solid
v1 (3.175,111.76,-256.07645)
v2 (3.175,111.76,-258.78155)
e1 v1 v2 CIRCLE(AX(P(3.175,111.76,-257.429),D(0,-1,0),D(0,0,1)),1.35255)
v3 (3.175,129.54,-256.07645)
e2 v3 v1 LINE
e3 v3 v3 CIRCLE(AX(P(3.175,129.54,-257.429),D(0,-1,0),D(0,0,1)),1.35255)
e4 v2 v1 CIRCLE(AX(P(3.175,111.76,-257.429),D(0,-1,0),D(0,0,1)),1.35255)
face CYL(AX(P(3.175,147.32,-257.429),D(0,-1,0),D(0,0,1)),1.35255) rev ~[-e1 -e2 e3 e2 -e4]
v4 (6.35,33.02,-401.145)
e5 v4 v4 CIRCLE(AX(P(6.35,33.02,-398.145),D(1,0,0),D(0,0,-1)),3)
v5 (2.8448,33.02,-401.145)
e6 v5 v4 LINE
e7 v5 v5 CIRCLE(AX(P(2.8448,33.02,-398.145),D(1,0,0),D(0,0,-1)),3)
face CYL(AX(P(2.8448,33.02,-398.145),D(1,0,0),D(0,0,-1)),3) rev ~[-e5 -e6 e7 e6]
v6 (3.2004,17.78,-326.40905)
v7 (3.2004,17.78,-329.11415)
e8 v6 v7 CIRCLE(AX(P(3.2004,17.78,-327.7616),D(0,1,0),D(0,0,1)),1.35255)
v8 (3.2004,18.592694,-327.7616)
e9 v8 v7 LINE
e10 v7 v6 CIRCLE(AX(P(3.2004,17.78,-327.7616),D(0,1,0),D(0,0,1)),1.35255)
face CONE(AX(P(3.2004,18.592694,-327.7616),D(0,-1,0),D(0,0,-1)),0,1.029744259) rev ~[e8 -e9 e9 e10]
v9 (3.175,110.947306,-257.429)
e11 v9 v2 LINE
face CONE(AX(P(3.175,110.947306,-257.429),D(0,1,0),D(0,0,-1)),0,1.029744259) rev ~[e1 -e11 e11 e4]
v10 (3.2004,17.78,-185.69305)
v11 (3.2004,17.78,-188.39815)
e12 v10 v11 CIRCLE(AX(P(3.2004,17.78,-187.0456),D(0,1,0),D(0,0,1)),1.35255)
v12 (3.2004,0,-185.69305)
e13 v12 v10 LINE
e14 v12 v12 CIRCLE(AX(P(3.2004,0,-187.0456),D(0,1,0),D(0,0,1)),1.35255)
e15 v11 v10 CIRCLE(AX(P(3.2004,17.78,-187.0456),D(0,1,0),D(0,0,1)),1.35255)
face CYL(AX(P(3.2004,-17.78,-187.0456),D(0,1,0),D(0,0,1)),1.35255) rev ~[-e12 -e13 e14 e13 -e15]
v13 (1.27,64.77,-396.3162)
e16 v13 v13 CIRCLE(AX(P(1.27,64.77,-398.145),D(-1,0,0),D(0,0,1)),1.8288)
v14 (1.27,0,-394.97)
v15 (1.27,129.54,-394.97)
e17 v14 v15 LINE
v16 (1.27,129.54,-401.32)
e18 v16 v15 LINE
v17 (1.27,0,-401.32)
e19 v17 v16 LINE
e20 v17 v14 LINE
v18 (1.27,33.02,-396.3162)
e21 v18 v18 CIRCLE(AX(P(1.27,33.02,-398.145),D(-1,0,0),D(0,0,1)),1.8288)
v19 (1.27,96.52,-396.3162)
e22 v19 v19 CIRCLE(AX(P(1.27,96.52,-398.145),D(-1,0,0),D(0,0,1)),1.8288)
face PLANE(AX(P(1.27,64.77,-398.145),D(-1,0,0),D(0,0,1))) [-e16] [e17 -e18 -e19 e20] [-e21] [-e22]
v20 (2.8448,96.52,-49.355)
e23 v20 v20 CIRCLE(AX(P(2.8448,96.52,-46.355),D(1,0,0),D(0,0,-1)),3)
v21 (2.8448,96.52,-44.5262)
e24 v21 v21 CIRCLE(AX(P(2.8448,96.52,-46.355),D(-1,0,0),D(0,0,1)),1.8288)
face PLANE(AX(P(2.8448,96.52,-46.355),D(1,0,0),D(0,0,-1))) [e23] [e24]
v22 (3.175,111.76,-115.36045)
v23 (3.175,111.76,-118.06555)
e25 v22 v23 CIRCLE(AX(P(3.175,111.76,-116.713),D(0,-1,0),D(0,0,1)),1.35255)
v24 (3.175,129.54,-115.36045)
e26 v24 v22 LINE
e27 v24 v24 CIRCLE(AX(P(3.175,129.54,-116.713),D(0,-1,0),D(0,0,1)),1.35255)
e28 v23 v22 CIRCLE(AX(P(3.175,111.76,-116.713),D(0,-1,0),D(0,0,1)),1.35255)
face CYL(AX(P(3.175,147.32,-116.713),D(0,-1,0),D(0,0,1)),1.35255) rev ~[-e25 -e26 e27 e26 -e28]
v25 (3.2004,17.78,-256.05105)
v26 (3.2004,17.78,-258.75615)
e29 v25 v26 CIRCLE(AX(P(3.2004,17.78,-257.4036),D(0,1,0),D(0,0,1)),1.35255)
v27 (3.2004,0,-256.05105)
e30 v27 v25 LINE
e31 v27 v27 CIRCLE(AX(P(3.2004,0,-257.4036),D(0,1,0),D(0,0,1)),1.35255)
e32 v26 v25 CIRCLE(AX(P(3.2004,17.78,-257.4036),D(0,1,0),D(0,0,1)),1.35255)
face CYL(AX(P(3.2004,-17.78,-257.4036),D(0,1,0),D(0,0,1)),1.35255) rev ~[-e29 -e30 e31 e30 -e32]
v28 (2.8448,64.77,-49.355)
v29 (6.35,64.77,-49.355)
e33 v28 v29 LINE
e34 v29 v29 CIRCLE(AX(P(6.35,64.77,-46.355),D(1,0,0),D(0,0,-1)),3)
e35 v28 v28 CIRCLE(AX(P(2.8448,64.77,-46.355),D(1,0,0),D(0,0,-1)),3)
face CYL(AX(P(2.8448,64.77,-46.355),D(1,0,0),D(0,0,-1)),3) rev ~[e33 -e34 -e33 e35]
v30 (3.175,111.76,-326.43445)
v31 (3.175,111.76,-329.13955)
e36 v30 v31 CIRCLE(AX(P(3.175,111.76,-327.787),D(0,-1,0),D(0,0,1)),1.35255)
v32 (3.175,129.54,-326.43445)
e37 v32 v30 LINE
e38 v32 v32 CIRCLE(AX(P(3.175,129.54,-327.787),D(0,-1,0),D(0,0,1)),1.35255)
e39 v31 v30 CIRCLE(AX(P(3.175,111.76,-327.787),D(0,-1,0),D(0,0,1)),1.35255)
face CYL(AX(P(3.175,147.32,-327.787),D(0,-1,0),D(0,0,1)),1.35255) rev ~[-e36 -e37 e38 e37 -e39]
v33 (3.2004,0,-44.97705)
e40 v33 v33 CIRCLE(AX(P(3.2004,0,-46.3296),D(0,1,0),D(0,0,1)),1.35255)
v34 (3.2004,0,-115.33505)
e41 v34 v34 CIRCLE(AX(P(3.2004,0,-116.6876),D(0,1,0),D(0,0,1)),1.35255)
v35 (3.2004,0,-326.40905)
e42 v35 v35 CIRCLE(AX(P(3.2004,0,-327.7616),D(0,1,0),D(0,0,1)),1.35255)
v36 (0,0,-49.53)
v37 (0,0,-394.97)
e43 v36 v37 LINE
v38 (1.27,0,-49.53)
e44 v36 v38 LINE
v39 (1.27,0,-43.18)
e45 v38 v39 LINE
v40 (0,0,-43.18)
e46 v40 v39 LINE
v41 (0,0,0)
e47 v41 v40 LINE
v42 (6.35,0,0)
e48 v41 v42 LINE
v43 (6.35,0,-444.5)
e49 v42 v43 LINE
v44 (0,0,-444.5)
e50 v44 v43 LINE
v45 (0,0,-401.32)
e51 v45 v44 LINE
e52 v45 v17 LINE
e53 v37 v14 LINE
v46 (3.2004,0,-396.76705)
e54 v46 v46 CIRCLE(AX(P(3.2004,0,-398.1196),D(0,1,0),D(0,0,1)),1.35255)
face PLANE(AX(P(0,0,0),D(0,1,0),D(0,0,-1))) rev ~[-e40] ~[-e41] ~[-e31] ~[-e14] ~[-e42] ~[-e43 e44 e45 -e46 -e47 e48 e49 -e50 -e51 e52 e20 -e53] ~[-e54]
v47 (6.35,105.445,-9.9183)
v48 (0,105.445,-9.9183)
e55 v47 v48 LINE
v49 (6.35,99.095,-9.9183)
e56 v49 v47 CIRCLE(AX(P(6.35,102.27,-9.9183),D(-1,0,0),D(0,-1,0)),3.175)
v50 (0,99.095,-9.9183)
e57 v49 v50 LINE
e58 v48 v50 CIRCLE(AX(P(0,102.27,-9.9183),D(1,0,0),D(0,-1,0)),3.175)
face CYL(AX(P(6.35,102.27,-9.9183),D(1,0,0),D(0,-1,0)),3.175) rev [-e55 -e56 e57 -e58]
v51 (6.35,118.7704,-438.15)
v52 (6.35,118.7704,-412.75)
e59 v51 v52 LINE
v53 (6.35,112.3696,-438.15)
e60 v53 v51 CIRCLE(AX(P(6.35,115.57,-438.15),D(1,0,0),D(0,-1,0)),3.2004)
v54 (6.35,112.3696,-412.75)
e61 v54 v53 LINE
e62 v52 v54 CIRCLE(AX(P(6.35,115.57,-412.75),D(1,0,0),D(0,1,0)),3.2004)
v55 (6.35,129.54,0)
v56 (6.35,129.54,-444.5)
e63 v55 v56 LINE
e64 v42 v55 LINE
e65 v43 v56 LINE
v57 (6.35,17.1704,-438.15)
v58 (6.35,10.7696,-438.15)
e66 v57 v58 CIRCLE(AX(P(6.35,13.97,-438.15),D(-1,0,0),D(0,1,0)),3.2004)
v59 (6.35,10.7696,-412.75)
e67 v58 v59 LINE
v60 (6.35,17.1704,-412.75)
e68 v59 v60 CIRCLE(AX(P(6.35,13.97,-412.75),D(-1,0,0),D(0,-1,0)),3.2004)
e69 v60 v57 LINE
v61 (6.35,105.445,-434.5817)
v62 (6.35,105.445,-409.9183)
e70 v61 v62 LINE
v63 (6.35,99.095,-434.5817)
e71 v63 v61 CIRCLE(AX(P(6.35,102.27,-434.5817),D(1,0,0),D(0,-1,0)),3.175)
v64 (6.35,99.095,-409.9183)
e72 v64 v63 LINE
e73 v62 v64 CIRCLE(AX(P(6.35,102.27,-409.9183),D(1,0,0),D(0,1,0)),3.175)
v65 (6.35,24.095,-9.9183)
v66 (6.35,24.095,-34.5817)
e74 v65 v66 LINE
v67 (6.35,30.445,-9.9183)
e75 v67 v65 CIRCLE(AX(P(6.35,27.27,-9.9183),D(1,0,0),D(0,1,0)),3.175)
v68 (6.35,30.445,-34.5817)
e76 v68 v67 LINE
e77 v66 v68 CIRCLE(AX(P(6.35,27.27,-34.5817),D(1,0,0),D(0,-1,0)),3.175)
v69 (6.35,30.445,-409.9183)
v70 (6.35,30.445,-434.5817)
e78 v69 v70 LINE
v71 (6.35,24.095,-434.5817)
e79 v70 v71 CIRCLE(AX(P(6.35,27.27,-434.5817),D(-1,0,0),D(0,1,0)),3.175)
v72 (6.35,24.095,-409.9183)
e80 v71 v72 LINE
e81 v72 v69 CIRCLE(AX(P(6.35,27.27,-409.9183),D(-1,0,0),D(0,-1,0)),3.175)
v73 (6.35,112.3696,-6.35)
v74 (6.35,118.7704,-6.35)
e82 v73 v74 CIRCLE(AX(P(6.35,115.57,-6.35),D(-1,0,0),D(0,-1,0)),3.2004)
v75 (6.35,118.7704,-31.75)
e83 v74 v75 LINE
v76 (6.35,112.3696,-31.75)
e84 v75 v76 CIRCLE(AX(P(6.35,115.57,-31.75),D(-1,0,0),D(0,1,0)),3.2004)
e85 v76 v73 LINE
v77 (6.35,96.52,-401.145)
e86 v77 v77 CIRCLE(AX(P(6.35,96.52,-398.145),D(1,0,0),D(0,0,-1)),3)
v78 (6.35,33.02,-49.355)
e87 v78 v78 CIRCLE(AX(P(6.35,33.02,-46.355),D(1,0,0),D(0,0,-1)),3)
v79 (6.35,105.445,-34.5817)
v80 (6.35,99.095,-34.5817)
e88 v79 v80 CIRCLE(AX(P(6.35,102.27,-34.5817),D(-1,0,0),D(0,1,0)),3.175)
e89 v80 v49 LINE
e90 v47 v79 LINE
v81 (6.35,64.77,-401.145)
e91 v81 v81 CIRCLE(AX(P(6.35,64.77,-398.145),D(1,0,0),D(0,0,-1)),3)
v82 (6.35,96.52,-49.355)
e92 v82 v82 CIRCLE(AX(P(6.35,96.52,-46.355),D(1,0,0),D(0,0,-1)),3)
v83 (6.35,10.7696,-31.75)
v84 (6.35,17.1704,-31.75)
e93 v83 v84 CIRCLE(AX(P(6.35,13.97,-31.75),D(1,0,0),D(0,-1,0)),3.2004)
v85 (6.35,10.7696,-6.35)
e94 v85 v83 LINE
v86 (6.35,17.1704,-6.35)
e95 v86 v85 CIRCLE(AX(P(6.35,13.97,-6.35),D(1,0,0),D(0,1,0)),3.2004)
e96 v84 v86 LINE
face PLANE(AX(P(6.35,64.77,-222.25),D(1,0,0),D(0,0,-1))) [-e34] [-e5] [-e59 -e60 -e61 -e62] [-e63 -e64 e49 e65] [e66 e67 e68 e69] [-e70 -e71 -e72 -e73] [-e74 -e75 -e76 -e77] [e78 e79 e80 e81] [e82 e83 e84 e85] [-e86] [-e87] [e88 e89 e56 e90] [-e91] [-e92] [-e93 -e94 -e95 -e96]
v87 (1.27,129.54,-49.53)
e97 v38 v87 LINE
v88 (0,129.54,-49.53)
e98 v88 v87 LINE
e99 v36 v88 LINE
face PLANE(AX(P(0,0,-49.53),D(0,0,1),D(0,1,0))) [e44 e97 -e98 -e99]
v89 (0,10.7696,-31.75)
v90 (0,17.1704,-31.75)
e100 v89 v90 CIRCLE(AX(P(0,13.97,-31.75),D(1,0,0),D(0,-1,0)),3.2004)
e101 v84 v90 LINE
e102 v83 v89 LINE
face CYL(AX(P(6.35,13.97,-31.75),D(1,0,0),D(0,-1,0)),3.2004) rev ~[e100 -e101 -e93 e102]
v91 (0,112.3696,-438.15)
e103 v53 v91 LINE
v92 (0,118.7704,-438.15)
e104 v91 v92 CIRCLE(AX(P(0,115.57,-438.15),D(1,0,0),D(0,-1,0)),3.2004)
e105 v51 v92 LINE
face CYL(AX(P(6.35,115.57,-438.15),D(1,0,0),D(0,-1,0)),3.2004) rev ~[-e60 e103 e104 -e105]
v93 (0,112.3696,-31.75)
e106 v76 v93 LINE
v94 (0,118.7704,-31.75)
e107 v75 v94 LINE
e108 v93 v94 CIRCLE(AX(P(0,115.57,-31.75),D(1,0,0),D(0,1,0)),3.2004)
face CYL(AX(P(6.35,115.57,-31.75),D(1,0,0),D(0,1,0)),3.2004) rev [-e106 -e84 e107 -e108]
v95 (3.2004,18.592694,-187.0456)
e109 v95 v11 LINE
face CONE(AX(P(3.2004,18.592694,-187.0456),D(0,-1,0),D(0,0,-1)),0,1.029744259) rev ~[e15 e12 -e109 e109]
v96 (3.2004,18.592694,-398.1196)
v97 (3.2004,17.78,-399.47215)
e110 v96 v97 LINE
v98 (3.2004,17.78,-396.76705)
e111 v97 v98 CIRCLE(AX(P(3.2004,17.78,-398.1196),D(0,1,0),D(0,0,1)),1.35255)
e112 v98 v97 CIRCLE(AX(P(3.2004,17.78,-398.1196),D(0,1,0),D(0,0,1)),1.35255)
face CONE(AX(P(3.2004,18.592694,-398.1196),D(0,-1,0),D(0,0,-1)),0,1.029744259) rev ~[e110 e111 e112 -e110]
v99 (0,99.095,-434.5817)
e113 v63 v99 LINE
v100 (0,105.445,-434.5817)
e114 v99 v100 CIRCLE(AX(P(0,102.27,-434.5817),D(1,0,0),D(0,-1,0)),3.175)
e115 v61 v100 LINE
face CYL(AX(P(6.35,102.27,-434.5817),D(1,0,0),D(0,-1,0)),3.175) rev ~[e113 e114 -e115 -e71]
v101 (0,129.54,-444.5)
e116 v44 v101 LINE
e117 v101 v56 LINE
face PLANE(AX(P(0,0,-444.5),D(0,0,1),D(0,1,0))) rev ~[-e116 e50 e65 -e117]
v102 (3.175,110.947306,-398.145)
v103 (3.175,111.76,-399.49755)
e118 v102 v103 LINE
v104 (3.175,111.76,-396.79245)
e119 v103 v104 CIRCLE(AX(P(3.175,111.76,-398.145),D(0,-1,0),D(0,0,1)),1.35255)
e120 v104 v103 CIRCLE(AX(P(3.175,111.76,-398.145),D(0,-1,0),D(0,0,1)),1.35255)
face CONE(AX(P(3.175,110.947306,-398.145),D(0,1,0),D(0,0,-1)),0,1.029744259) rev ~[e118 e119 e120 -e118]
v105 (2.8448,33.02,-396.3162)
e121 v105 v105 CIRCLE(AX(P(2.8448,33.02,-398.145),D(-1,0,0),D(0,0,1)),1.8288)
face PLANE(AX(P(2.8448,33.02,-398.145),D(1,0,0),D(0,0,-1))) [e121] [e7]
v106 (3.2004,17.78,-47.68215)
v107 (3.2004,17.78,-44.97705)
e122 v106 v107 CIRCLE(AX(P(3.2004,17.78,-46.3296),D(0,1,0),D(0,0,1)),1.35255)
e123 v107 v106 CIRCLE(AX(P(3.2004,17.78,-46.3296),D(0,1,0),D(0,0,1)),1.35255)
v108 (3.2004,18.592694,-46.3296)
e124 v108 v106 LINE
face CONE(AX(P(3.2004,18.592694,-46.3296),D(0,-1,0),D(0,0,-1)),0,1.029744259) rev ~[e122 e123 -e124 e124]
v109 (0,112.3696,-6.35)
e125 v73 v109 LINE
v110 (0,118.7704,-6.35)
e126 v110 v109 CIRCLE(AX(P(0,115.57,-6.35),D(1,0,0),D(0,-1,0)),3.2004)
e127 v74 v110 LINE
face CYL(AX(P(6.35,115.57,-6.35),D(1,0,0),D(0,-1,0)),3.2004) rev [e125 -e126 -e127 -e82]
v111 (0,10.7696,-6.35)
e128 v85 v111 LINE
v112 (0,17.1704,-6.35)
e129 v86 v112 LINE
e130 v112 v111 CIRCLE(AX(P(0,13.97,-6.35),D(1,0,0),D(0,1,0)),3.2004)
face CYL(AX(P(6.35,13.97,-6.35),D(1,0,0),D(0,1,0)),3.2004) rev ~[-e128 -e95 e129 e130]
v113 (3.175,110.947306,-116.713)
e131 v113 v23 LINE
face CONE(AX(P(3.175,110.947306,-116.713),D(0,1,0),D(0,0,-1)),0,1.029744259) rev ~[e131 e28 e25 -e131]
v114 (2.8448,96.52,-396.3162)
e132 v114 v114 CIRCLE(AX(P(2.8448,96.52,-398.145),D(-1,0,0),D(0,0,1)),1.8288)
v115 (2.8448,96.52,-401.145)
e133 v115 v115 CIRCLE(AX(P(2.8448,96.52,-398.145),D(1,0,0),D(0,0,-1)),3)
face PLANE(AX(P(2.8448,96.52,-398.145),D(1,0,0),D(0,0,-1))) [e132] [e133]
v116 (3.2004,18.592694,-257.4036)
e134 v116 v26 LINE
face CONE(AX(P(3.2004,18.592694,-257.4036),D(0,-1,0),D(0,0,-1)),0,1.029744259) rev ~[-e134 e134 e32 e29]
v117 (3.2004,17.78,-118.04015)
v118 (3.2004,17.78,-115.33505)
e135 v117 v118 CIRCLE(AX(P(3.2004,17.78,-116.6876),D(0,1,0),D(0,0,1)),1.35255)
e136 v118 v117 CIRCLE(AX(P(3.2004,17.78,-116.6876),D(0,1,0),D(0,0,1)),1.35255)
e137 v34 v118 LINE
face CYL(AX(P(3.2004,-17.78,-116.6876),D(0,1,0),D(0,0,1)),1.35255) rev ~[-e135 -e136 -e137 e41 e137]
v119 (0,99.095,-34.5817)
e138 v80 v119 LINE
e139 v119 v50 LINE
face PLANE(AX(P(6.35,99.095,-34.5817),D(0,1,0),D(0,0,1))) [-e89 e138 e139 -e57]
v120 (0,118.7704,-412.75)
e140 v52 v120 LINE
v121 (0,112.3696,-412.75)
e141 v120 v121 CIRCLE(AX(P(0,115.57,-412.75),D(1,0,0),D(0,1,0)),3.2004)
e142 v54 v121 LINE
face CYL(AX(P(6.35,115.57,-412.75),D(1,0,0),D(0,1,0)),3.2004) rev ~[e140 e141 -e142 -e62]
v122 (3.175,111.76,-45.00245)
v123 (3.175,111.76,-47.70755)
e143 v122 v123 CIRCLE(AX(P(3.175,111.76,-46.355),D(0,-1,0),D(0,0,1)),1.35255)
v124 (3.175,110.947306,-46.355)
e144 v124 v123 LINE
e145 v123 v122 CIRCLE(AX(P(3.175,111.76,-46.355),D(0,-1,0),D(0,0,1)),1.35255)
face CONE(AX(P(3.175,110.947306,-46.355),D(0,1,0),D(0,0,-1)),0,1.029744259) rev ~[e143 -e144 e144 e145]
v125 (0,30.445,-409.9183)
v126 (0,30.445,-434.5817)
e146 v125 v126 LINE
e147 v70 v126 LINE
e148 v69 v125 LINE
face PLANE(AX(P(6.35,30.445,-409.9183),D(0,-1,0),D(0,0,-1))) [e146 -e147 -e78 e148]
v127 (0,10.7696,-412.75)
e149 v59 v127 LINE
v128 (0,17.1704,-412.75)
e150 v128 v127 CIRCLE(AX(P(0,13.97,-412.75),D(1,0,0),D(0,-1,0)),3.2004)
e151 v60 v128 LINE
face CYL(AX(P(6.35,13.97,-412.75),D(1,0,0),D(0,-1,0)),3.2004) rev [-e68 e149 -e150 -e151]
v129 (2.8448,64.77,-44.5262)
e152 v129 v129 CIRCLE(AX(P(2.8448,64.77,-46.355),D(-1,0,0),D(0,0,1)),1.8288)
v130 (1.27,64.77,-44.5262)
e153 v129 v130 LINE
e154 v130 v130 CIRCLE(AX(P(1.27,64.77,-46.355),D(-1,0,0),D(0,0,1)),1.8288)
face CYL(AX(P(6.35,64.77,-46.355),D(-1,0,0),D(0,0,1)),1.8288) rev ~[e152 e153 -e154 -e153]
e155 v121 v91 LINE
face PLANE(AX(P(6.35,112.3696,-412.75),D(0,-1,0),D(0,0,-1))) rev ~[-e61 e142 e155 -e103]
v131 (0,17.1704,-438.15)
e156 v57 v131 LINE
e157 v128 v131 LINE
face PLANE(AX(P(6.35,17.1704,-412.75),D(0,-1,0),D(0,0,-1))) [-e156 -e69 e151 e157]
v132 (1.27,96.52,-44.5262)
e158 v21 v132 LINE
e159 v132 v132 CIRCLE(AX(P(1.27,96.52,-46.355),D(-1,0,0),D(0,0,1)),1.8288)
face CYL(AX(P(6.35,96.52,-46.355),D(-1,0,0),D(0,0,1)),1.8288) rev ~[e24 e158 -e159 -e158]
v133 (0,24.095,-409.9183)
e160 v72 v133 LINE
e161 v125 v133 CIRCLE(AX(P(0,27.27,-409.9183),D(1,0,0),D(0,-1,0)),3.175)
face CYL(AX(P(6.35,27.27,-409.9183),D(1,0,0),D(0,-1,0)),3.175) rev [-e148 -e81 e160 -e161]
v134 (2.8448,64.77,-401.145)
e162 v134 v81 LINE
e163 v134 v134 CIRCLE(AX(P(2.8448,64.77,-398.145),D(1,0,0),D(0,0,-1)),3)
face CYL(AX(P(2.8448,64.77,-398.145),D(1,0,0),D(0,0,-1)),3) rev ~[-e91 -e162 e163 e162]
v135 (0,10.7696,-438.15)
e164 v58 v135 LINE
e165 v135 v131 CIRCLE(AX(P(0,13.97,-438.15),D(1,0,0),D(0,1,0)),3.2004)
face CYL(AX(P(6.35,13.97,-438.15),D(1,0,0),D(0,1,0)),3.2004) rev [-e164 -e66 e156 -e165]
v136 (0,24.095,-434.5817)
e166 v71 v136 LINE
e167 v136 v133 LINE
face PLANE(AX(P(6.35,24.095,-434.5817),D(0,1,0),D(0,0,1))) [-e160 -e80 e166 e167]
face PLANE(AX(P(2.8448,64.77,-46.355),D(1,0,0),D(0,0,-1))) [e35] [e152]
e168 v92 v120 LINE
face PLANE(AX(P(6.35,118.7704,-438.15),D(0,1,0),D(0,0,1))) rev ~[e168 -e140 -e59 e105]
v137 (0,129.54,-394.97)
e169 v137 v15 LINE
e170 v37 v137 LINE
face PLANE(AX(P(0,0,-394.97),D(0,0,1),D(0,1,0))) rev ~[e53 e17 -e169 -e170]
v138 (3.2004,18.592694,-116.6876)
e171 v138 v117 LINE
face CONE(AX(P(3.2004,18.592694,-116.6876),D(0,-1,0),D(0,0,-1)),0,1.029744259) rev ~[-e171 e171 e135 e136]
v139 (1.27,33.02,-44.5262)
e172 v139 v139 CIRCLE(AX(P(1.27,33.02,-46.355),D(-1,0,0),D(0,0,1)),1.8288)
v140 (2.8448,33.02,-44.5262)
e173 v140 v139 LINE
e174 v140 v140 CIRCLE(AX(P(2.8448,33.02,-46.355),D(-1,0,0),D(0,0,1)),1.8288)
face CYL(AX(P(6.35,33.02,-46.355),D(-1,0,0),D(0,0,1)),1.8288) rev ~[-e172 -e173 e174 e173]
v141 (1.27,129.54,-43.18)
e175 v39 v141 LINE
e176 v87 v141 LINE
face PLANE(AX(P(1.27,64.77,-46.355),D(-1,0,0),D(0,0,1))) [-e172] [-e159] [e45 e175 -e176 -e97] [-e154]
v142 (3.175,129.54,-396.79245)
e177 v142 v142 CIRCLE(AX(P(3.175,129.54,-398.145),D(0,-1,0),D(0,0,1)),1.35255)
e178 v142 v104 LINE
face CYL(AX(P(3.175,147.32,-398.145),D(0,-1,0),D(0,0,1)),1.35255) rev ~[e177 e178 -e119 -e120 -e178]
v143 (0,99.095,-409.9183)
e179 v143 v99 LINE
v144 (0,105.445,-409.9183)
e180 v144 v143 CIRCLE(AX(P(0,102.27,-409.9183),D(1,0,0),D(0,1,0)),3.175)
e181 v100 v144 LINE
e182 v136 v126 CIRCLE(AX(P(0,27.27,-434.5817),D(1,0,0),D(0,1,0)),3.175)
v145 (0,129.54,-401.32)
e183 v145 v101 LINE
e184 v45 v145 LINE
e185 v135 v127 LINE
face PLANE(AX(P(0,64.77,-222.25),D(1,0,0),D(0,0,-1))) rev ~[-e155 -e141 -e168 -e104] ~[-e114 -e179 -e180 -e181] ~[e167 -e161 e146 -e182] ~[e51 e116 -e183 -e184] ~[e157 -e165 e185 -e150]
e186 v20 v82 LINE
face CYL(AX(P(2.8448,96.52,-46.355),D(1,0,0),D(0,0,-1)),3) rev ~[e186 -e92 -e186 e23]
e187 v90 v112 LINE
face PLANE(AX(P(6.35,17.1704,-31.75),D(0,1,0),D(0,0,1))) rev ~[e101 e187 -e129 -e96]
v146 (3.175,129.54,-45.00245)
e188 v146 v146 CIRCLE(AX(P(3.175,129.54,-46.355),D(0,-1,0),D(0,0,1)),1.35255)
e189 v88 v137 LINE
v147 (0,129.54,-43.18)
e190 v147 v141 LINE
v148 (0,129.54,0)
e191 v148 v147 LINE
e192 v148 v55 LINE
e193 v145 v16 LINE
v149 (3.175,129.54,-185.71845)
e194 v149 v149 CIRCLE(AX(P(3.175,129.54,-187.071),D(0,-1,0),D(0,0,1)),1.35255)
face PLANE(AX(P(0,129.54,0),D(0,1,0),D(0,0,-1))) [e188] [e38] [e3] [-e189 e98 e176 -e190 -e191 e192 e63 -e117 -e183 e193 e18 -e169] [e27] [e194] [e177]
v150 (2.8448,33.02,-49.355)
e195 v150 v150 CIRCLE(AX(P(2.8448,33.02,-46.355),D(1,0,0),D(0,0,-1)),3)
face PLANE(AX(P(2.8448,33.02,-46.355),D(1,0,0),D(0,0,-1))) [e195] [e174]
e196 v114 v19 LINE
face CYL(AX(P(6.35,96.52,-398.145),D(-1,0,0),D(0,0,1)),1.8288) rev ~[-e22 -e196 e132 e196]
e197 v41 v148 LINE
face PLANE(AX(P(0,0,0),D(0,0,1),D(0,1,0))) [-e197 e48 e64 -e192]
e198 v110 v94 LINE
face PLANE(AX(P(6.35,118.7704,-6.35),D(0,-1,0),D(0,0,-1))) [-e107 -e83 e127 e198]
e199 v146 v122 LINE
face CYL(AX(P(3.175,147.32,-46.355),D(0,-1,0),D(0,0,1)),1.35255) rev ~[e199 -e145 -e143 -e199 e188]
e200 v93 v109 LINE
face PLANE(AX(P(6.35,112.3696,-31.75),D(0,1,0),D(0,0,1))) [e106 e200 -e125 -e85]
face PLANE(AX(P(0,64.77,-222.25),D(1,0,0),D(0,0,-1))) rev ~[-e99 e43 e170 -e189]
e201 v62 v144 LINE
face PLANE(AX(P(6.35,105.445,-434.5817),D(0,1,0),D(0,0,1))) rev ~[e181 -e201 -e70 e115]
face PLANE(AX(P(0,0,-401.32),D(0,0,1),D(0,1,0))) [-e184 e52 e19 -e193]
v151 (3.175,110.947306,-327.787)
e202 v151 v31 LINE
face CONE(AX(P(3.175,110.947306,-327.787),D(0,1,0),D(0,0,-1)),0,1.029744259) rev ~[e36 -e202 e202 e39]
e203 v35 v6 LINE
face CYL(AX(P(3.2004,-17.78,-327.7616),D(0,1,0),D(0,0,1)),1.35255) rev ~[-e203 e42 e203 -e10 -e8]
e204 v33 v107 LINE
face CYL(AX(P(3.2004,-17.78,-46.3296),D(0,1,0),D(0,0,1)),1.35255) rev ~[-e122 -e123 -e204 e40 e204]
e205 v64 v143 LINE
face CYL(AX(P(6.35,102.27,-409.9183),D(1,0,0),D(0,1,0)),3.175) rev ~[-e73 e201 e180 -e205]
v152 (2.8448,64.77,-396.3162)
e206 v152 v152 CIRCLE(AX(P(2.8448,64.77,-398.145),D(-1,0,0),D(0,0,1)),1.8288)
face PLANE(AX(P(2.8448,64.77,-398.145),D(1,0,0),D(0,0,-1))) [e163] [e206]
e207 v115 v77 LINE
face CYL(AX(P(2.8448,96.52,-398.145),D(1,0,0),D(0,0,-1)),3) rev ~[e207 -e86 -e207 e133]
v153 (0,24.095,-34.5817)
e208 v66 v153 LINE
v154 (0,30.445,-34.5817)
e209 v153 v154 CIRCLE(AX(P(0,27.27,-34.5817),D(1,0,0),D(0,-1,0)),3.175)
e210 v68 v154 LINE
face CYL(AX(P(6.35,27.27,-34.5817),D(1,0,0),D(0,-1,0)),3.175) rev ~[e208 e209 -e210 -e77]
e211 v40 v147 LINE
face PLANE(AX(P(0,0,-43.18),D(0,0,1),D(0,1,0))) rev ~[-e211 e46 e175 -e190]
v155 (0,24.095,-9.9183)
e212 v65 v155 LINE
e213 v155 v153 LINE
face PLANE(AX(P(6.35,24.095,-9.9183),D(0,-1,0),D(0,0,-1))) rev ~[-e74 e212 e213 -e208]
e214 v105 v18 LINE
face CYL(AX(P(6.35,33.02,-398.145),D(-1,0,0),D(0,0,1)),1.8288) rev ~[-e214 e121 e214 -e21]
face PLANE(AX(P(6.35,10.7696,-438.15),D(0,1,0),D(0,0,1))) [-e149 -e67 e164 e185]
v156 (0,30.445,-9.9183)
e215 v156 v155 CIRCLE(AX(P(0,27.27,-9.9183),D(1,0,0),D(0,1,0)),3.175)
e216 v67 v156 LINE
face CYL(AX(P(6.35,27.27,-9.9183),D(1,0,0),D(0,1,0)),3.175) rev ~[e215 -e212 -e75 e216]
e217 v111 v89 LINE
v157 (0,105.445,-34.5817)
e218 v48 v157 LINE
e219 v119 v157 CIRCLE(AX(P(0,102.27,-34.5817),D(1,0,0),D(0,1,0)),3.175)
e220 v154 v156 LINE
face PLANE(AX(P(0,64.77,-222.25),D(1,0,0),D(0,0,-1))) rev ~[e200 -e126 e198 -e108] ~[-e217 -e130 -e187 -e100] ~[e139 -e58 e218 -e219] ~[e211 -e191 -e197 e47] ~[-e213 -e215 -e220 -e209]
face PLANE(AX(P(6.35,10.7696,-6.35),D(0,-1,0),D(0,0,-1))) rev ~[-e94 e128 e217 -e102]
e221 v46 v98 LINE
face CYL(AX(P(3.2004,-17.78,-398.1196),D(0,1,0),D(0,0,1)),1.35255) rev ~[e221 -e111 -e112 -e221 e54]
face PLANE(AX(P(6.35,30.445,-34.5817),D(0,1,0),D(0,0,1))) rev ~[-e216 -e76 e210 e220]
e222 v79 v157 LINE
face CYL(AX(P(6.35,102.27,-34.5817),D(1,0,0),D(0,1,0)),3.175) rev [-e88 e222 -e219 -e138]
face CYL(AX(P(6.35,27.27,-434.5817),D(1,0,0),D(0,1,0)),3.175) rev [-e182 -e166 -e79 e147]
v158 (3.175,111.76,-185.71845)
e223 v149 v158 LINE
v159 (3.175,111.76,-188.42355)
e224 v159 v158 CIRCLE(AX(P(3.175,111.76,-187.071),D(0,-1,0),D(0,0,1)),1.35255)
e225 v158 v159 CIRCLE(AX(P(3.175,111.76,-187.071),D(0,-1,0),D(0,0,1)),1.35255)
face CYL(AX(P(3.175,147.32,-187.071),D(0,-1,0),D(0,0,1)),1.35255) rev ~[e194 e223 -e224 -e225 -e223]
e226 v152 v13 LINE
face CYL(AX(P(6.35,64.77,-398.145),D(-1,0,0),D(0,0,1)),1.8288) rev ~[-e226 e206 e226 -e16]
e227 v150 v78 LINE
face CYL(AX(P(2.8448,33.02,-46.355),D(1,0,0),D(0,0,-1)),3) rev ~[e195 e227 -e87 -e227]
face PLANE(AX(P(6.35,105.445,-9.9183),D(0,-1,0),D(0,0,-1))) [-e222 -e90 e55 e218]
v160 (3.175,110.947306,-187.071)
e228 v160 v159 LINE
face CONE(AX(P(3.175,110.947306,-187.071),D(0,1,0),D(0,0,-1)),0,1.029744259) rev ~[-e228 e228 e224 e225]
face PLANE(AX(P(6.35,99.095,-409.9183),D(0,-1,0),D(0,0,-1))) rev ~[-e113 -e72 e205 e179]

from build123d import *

# Parameters (mm, degrees)
SKETCH1_W                                      = 444.5
SKETCH1_H                                      = 129.54
BOSS_EXTRUDE1_DEPTH                            = 6.35
CBORE_FOR_6_SOCKET_HEAD_CAP_SCREW1_D           = 3.6576
CBORE_FOR_6_SOCKET_HEAD_CAP_SCREW1_CBORE_D     = 5.999999938
CBORE_FOR_6_SOCKET_HEAD_CAP_SCREW1_CBORE_DEPTH = 3.5052
CUT_EXTRUDE1_DEPTH                             = 7.35
TAP_DRILL_FOR_6_32_TAP1_D                      = 2.7051
TAP_DRILL_FOR_6_32_TAP1_DEPTH                  = 17.78
TAP_DRILL_FOR_6_32_TAP1_TIP                    = 0.81269403
TAP_DRILL_FOR_6_32_TAP2_D                      = 2.7051
TAP_DRILL_FOR_6_32_TAP2_DEPTH                  = 17.78
TAP_DRILL_FOR_6_32_TAP2_TIP                    = 0.81269403
SKETCH21_W                                     = 6.35
SKETCH21_H                                     = 129.54
CUT_EXTRUDE2_DEPTH                             = 1.27


with BuildPart() as part:
    # Sketch1 → Boss-Extrude1 (new body)
    with BuildSketch(Plane(origin=(0, 0, 0), x_dir=(0, 0, -1), z_dir=(1, 0, 0))):
        with Locations((222.25, 64.77)):
            Rectangle(SKETCH1_W, SKETCH1_H)
    extrude(amount=BOSS_EXTRUDE1_DEPTH)

    # CBORE for #6 Socket Head Cap Screw1 (through all)
    with Locations(Plane(origin=(6.35, 0, 0), x_dir=(0, 0, -1), z_dir=(1, 0, 0))):
        with Locations((46.355, 64.77), (398.145, 64.77), (46.355, 96.52), (46.355, 33.02), (398.145, 96.52), (398.145, 33.02)):
            CounterBoreHole(CBORE_FOR_6_SOCKET_HEAD_CAP_SCREW1_D / 2, CBORE_FOR_6_SOCKET_HEAD_CAP_SCREW1_CBORE_D / 2, CBORE_FOR_6_SOCKET_HEAD_CAP_SCREW1_CBORE_DEPTH)

    # Sketch16 → Cut-Extrude1 (cut, through all)
    with BuildSketch(Plane(origin=(6.35, 0, 0), x_dir=(0, 0, -1), z_dir=(1, 0, 0))):
        with BuildLine():
            Line((6.35, 118.7704), (31.75, 118.7704))
            ThreePointArc((31.75, 118.7704), (34.9504, 115.57), (31.75, 112.3696))
            Line((31.75, 112.3696), (6.35, 112.3696))
            ThreePointArc((6.35, 112.3696), (3.1496, 115.57), (6.35, 118.7704))
        make_face()
        with BuildLine():
            Line((434.5817, 24.095), (409.9183, 24.095))
            ThreePointArc((409.9183, 24.095), (406.7433, 27.27), (409.9183, 30.445))
            Line((409.9183, 30.445), (434.5817, 30.445))
            ThreePointArc((434.5817, 30.445), (437.7567, 27.27), (434.5817, 24.095))
        make_face()
        with BuildLine():
            Line((434.5817, 105.445), (409.9183, 105.445))
            ThreePointArc((409.9183, 105.445), (406.7433, 102.27), (409.9183, 99.095))
            Line((409.9183, 99.095), (434.5817, 99.095))
            ThreePointArc((434.5817, 99.095), (437.7567, 102.27), (434.5817, 105.445))
        make_face()
        with BuildLine():
            Line((6.35, 10.7696), (31.75, 10.7696))
            ThreePointArc((31.75, 10.7696), (34.9504, 13.97), (31.75, 17.1704))
            Line((31.75, 17.1704), (6.35, 17.1704))
            ThreePointArc((6.35, 17.1704), (3.1496, 13.97), (6.35, 10.7696))
        make_face()
        with BuildLine():
            Line((438.15, 118.7704), (412.75, 118.7704))
            ThreePointArc((412.75, 118.7704), (409.5496, 115.57), (412.75, 112.3696))
            Line((412.75, 112.3696), (438.15, 112.3696))
            ThreePointArc((438.15, 112.3696), (441.3504, 115.57), (438.15, 118.7704))
        make_face()
        with BuildLine():
            Line((9.9183, 105.445), (34.5817, 105.445))
            ThreePointArc((34.5817, 105.445), (37.7567, 102.27), (34.5817, 99.095))
            Line((34.5817, 99.095), (9.9183, 99.095))
            ThreePointArc((9.9183, 99.095), (6.7433, 102.27), (9.9183, 105.445))
        make_face()
        with BuildLine():
            Line((9.9183, 24.095), (34.5817, 24.095))
            ThreePointArc((34.5817, 24.095), (37.7567, 27.27), (34.5817, 30.445))
            Line((34.5817, 30.445), (9.9183, 30.445))
            ThreePointArc((9.9183, 30.445), (6.7433, 27.27), (9.9183, 24.095))
        make_face()
        with BuildLine():
            Line((438.15, 10.7696), (412.75, 10.7696))
            ThreePointArc((412.75, 10.7696), (409.5496, 13.97), (412.75, 17.1704))
            Line((412.75, 17.1704), (438.15, 17.1704))
            ThreePointArc((438.15, 17.1704), (441.3504, 13.97), (438.15, 10.7696))
        make_face()
    extrude(amount=-CUT_EXTRUDE1_DEPTH, mode=Mode.SUBTRACT)

    # Tap Drill for #6-32 Tap1
    with Locations(Plane(origin=(-408.187088364, 129.54, -132.107048836), x_dir=(0, 0, -1), z_dir=(0, 1, 0))):
        with Locations((-85.752048836, -59.572088364), (-15.394048836, -59.572088364), (54.963951164, -59.572088364), (125.321951164, -59.572088364), (195.679951164, -59.572088364), (266.037951164, -59.572088364), (266.037951164, -129.930088364), (266.037951164, -200.288088364), (266.037951164, -270.646088364), (266.037951164, -341.004088364), (266.037951164, -411.362088364), (195.679951164, -411.362088364), (125.321951164, -411.362088364), (54.963951164, -411.362088364), (-15.394048836, -411.362088364), (-85.752048836, -411.362088364), (-85.752048836, -341.004088364), (-85.752048836, -270.646088364), (-85.752048836, -200.288088364), (-85.752048836, -129.930088364)):
            Hole(TAP_DRILL_FOR_6_32_TAP1_D / 2, depth=TAP_DRILL_FOR_6_32_TAP1_DEPTH)
            with Locations((0, 0, -(TAP_DRILL_FOR_6_32_TAP1_DEPTH + TAP_DRILL_FOR_6_32_TAP1_TIP / 2))):  # 118° drill point
                Cone(0, TAP_DRILL_FOR_6_32_TAP1_D / 2, TAP_DRILL_FOR_6_32_TAP1_TIP, mode=Mode.SUBTRACT)

    # Tap Drill for #6-32 Tap2
    with Locations(Plane(origin=(62.772488364, 0, -312.367551164), x_dir=(0, 0, -1), z_dir=(0, -1, 0))):
        with Locations((85.752048836, -411.362088364), (15.394048836, -411.362088364), (-54.963951164, -411.362088364), (-125.321951164, -411.362088364), (-195.679951164, -411.362088364), (-266.037951164, -411.362088364), (-266.037951164, -341.004088364), (-266.037951164, -270.646088364), (-266.037951164, -200.288088364), (-266.037951164, -129.930088364), (-266.037951164, -59.572088364), (-195.679951164, -59.572088364), (-125.321951164, -59.572088364), (-54.963951164, -59.572088364), (15.394048836, -59.572088364), (85.752048836, -59.572088364), (85.752048836, -130.006288364), (85.752048836, -200.364288364), (85.752048836, -270.722288364), (85.752048836, -341.080288364)):
            Hole(TAP_DRILL_FOR_6_32_TAP2_D / 2, depth=TAP_DRILL_FOR_6_32_TAP2_DEPTH)
            with Locations((0, 0, -(TAP_DRILL_FOR_6_32_TAP2_DEPTH + TAP_DRILL_FOR_6_32_TAP2_TIP / 2))):  # 118° drill point
                Cone(0, TAP_DRILL_FOR_6_32_TAP2_D / 2, TAP_DRILL_FOR_6_32_TAP2_TIP, mode=Mode.SUBTRACT)

    # Sketch21 → Cut-Extrude2 (cut)
    with BuildSketch(Plane.ZY):
        with Locations((-398.145, 64.77)):
            Rectangle(SKETCH21_W, SKETCH21_H)
        with Locations((-46.355, 64.77)):
            Rectangle(SKETCH21_W, SKETCH21_H)
    extrude(amount=-CUT_EXTRUDE2_DEPTH, mode=Mode.SUBTRACT)


solid = part.part
